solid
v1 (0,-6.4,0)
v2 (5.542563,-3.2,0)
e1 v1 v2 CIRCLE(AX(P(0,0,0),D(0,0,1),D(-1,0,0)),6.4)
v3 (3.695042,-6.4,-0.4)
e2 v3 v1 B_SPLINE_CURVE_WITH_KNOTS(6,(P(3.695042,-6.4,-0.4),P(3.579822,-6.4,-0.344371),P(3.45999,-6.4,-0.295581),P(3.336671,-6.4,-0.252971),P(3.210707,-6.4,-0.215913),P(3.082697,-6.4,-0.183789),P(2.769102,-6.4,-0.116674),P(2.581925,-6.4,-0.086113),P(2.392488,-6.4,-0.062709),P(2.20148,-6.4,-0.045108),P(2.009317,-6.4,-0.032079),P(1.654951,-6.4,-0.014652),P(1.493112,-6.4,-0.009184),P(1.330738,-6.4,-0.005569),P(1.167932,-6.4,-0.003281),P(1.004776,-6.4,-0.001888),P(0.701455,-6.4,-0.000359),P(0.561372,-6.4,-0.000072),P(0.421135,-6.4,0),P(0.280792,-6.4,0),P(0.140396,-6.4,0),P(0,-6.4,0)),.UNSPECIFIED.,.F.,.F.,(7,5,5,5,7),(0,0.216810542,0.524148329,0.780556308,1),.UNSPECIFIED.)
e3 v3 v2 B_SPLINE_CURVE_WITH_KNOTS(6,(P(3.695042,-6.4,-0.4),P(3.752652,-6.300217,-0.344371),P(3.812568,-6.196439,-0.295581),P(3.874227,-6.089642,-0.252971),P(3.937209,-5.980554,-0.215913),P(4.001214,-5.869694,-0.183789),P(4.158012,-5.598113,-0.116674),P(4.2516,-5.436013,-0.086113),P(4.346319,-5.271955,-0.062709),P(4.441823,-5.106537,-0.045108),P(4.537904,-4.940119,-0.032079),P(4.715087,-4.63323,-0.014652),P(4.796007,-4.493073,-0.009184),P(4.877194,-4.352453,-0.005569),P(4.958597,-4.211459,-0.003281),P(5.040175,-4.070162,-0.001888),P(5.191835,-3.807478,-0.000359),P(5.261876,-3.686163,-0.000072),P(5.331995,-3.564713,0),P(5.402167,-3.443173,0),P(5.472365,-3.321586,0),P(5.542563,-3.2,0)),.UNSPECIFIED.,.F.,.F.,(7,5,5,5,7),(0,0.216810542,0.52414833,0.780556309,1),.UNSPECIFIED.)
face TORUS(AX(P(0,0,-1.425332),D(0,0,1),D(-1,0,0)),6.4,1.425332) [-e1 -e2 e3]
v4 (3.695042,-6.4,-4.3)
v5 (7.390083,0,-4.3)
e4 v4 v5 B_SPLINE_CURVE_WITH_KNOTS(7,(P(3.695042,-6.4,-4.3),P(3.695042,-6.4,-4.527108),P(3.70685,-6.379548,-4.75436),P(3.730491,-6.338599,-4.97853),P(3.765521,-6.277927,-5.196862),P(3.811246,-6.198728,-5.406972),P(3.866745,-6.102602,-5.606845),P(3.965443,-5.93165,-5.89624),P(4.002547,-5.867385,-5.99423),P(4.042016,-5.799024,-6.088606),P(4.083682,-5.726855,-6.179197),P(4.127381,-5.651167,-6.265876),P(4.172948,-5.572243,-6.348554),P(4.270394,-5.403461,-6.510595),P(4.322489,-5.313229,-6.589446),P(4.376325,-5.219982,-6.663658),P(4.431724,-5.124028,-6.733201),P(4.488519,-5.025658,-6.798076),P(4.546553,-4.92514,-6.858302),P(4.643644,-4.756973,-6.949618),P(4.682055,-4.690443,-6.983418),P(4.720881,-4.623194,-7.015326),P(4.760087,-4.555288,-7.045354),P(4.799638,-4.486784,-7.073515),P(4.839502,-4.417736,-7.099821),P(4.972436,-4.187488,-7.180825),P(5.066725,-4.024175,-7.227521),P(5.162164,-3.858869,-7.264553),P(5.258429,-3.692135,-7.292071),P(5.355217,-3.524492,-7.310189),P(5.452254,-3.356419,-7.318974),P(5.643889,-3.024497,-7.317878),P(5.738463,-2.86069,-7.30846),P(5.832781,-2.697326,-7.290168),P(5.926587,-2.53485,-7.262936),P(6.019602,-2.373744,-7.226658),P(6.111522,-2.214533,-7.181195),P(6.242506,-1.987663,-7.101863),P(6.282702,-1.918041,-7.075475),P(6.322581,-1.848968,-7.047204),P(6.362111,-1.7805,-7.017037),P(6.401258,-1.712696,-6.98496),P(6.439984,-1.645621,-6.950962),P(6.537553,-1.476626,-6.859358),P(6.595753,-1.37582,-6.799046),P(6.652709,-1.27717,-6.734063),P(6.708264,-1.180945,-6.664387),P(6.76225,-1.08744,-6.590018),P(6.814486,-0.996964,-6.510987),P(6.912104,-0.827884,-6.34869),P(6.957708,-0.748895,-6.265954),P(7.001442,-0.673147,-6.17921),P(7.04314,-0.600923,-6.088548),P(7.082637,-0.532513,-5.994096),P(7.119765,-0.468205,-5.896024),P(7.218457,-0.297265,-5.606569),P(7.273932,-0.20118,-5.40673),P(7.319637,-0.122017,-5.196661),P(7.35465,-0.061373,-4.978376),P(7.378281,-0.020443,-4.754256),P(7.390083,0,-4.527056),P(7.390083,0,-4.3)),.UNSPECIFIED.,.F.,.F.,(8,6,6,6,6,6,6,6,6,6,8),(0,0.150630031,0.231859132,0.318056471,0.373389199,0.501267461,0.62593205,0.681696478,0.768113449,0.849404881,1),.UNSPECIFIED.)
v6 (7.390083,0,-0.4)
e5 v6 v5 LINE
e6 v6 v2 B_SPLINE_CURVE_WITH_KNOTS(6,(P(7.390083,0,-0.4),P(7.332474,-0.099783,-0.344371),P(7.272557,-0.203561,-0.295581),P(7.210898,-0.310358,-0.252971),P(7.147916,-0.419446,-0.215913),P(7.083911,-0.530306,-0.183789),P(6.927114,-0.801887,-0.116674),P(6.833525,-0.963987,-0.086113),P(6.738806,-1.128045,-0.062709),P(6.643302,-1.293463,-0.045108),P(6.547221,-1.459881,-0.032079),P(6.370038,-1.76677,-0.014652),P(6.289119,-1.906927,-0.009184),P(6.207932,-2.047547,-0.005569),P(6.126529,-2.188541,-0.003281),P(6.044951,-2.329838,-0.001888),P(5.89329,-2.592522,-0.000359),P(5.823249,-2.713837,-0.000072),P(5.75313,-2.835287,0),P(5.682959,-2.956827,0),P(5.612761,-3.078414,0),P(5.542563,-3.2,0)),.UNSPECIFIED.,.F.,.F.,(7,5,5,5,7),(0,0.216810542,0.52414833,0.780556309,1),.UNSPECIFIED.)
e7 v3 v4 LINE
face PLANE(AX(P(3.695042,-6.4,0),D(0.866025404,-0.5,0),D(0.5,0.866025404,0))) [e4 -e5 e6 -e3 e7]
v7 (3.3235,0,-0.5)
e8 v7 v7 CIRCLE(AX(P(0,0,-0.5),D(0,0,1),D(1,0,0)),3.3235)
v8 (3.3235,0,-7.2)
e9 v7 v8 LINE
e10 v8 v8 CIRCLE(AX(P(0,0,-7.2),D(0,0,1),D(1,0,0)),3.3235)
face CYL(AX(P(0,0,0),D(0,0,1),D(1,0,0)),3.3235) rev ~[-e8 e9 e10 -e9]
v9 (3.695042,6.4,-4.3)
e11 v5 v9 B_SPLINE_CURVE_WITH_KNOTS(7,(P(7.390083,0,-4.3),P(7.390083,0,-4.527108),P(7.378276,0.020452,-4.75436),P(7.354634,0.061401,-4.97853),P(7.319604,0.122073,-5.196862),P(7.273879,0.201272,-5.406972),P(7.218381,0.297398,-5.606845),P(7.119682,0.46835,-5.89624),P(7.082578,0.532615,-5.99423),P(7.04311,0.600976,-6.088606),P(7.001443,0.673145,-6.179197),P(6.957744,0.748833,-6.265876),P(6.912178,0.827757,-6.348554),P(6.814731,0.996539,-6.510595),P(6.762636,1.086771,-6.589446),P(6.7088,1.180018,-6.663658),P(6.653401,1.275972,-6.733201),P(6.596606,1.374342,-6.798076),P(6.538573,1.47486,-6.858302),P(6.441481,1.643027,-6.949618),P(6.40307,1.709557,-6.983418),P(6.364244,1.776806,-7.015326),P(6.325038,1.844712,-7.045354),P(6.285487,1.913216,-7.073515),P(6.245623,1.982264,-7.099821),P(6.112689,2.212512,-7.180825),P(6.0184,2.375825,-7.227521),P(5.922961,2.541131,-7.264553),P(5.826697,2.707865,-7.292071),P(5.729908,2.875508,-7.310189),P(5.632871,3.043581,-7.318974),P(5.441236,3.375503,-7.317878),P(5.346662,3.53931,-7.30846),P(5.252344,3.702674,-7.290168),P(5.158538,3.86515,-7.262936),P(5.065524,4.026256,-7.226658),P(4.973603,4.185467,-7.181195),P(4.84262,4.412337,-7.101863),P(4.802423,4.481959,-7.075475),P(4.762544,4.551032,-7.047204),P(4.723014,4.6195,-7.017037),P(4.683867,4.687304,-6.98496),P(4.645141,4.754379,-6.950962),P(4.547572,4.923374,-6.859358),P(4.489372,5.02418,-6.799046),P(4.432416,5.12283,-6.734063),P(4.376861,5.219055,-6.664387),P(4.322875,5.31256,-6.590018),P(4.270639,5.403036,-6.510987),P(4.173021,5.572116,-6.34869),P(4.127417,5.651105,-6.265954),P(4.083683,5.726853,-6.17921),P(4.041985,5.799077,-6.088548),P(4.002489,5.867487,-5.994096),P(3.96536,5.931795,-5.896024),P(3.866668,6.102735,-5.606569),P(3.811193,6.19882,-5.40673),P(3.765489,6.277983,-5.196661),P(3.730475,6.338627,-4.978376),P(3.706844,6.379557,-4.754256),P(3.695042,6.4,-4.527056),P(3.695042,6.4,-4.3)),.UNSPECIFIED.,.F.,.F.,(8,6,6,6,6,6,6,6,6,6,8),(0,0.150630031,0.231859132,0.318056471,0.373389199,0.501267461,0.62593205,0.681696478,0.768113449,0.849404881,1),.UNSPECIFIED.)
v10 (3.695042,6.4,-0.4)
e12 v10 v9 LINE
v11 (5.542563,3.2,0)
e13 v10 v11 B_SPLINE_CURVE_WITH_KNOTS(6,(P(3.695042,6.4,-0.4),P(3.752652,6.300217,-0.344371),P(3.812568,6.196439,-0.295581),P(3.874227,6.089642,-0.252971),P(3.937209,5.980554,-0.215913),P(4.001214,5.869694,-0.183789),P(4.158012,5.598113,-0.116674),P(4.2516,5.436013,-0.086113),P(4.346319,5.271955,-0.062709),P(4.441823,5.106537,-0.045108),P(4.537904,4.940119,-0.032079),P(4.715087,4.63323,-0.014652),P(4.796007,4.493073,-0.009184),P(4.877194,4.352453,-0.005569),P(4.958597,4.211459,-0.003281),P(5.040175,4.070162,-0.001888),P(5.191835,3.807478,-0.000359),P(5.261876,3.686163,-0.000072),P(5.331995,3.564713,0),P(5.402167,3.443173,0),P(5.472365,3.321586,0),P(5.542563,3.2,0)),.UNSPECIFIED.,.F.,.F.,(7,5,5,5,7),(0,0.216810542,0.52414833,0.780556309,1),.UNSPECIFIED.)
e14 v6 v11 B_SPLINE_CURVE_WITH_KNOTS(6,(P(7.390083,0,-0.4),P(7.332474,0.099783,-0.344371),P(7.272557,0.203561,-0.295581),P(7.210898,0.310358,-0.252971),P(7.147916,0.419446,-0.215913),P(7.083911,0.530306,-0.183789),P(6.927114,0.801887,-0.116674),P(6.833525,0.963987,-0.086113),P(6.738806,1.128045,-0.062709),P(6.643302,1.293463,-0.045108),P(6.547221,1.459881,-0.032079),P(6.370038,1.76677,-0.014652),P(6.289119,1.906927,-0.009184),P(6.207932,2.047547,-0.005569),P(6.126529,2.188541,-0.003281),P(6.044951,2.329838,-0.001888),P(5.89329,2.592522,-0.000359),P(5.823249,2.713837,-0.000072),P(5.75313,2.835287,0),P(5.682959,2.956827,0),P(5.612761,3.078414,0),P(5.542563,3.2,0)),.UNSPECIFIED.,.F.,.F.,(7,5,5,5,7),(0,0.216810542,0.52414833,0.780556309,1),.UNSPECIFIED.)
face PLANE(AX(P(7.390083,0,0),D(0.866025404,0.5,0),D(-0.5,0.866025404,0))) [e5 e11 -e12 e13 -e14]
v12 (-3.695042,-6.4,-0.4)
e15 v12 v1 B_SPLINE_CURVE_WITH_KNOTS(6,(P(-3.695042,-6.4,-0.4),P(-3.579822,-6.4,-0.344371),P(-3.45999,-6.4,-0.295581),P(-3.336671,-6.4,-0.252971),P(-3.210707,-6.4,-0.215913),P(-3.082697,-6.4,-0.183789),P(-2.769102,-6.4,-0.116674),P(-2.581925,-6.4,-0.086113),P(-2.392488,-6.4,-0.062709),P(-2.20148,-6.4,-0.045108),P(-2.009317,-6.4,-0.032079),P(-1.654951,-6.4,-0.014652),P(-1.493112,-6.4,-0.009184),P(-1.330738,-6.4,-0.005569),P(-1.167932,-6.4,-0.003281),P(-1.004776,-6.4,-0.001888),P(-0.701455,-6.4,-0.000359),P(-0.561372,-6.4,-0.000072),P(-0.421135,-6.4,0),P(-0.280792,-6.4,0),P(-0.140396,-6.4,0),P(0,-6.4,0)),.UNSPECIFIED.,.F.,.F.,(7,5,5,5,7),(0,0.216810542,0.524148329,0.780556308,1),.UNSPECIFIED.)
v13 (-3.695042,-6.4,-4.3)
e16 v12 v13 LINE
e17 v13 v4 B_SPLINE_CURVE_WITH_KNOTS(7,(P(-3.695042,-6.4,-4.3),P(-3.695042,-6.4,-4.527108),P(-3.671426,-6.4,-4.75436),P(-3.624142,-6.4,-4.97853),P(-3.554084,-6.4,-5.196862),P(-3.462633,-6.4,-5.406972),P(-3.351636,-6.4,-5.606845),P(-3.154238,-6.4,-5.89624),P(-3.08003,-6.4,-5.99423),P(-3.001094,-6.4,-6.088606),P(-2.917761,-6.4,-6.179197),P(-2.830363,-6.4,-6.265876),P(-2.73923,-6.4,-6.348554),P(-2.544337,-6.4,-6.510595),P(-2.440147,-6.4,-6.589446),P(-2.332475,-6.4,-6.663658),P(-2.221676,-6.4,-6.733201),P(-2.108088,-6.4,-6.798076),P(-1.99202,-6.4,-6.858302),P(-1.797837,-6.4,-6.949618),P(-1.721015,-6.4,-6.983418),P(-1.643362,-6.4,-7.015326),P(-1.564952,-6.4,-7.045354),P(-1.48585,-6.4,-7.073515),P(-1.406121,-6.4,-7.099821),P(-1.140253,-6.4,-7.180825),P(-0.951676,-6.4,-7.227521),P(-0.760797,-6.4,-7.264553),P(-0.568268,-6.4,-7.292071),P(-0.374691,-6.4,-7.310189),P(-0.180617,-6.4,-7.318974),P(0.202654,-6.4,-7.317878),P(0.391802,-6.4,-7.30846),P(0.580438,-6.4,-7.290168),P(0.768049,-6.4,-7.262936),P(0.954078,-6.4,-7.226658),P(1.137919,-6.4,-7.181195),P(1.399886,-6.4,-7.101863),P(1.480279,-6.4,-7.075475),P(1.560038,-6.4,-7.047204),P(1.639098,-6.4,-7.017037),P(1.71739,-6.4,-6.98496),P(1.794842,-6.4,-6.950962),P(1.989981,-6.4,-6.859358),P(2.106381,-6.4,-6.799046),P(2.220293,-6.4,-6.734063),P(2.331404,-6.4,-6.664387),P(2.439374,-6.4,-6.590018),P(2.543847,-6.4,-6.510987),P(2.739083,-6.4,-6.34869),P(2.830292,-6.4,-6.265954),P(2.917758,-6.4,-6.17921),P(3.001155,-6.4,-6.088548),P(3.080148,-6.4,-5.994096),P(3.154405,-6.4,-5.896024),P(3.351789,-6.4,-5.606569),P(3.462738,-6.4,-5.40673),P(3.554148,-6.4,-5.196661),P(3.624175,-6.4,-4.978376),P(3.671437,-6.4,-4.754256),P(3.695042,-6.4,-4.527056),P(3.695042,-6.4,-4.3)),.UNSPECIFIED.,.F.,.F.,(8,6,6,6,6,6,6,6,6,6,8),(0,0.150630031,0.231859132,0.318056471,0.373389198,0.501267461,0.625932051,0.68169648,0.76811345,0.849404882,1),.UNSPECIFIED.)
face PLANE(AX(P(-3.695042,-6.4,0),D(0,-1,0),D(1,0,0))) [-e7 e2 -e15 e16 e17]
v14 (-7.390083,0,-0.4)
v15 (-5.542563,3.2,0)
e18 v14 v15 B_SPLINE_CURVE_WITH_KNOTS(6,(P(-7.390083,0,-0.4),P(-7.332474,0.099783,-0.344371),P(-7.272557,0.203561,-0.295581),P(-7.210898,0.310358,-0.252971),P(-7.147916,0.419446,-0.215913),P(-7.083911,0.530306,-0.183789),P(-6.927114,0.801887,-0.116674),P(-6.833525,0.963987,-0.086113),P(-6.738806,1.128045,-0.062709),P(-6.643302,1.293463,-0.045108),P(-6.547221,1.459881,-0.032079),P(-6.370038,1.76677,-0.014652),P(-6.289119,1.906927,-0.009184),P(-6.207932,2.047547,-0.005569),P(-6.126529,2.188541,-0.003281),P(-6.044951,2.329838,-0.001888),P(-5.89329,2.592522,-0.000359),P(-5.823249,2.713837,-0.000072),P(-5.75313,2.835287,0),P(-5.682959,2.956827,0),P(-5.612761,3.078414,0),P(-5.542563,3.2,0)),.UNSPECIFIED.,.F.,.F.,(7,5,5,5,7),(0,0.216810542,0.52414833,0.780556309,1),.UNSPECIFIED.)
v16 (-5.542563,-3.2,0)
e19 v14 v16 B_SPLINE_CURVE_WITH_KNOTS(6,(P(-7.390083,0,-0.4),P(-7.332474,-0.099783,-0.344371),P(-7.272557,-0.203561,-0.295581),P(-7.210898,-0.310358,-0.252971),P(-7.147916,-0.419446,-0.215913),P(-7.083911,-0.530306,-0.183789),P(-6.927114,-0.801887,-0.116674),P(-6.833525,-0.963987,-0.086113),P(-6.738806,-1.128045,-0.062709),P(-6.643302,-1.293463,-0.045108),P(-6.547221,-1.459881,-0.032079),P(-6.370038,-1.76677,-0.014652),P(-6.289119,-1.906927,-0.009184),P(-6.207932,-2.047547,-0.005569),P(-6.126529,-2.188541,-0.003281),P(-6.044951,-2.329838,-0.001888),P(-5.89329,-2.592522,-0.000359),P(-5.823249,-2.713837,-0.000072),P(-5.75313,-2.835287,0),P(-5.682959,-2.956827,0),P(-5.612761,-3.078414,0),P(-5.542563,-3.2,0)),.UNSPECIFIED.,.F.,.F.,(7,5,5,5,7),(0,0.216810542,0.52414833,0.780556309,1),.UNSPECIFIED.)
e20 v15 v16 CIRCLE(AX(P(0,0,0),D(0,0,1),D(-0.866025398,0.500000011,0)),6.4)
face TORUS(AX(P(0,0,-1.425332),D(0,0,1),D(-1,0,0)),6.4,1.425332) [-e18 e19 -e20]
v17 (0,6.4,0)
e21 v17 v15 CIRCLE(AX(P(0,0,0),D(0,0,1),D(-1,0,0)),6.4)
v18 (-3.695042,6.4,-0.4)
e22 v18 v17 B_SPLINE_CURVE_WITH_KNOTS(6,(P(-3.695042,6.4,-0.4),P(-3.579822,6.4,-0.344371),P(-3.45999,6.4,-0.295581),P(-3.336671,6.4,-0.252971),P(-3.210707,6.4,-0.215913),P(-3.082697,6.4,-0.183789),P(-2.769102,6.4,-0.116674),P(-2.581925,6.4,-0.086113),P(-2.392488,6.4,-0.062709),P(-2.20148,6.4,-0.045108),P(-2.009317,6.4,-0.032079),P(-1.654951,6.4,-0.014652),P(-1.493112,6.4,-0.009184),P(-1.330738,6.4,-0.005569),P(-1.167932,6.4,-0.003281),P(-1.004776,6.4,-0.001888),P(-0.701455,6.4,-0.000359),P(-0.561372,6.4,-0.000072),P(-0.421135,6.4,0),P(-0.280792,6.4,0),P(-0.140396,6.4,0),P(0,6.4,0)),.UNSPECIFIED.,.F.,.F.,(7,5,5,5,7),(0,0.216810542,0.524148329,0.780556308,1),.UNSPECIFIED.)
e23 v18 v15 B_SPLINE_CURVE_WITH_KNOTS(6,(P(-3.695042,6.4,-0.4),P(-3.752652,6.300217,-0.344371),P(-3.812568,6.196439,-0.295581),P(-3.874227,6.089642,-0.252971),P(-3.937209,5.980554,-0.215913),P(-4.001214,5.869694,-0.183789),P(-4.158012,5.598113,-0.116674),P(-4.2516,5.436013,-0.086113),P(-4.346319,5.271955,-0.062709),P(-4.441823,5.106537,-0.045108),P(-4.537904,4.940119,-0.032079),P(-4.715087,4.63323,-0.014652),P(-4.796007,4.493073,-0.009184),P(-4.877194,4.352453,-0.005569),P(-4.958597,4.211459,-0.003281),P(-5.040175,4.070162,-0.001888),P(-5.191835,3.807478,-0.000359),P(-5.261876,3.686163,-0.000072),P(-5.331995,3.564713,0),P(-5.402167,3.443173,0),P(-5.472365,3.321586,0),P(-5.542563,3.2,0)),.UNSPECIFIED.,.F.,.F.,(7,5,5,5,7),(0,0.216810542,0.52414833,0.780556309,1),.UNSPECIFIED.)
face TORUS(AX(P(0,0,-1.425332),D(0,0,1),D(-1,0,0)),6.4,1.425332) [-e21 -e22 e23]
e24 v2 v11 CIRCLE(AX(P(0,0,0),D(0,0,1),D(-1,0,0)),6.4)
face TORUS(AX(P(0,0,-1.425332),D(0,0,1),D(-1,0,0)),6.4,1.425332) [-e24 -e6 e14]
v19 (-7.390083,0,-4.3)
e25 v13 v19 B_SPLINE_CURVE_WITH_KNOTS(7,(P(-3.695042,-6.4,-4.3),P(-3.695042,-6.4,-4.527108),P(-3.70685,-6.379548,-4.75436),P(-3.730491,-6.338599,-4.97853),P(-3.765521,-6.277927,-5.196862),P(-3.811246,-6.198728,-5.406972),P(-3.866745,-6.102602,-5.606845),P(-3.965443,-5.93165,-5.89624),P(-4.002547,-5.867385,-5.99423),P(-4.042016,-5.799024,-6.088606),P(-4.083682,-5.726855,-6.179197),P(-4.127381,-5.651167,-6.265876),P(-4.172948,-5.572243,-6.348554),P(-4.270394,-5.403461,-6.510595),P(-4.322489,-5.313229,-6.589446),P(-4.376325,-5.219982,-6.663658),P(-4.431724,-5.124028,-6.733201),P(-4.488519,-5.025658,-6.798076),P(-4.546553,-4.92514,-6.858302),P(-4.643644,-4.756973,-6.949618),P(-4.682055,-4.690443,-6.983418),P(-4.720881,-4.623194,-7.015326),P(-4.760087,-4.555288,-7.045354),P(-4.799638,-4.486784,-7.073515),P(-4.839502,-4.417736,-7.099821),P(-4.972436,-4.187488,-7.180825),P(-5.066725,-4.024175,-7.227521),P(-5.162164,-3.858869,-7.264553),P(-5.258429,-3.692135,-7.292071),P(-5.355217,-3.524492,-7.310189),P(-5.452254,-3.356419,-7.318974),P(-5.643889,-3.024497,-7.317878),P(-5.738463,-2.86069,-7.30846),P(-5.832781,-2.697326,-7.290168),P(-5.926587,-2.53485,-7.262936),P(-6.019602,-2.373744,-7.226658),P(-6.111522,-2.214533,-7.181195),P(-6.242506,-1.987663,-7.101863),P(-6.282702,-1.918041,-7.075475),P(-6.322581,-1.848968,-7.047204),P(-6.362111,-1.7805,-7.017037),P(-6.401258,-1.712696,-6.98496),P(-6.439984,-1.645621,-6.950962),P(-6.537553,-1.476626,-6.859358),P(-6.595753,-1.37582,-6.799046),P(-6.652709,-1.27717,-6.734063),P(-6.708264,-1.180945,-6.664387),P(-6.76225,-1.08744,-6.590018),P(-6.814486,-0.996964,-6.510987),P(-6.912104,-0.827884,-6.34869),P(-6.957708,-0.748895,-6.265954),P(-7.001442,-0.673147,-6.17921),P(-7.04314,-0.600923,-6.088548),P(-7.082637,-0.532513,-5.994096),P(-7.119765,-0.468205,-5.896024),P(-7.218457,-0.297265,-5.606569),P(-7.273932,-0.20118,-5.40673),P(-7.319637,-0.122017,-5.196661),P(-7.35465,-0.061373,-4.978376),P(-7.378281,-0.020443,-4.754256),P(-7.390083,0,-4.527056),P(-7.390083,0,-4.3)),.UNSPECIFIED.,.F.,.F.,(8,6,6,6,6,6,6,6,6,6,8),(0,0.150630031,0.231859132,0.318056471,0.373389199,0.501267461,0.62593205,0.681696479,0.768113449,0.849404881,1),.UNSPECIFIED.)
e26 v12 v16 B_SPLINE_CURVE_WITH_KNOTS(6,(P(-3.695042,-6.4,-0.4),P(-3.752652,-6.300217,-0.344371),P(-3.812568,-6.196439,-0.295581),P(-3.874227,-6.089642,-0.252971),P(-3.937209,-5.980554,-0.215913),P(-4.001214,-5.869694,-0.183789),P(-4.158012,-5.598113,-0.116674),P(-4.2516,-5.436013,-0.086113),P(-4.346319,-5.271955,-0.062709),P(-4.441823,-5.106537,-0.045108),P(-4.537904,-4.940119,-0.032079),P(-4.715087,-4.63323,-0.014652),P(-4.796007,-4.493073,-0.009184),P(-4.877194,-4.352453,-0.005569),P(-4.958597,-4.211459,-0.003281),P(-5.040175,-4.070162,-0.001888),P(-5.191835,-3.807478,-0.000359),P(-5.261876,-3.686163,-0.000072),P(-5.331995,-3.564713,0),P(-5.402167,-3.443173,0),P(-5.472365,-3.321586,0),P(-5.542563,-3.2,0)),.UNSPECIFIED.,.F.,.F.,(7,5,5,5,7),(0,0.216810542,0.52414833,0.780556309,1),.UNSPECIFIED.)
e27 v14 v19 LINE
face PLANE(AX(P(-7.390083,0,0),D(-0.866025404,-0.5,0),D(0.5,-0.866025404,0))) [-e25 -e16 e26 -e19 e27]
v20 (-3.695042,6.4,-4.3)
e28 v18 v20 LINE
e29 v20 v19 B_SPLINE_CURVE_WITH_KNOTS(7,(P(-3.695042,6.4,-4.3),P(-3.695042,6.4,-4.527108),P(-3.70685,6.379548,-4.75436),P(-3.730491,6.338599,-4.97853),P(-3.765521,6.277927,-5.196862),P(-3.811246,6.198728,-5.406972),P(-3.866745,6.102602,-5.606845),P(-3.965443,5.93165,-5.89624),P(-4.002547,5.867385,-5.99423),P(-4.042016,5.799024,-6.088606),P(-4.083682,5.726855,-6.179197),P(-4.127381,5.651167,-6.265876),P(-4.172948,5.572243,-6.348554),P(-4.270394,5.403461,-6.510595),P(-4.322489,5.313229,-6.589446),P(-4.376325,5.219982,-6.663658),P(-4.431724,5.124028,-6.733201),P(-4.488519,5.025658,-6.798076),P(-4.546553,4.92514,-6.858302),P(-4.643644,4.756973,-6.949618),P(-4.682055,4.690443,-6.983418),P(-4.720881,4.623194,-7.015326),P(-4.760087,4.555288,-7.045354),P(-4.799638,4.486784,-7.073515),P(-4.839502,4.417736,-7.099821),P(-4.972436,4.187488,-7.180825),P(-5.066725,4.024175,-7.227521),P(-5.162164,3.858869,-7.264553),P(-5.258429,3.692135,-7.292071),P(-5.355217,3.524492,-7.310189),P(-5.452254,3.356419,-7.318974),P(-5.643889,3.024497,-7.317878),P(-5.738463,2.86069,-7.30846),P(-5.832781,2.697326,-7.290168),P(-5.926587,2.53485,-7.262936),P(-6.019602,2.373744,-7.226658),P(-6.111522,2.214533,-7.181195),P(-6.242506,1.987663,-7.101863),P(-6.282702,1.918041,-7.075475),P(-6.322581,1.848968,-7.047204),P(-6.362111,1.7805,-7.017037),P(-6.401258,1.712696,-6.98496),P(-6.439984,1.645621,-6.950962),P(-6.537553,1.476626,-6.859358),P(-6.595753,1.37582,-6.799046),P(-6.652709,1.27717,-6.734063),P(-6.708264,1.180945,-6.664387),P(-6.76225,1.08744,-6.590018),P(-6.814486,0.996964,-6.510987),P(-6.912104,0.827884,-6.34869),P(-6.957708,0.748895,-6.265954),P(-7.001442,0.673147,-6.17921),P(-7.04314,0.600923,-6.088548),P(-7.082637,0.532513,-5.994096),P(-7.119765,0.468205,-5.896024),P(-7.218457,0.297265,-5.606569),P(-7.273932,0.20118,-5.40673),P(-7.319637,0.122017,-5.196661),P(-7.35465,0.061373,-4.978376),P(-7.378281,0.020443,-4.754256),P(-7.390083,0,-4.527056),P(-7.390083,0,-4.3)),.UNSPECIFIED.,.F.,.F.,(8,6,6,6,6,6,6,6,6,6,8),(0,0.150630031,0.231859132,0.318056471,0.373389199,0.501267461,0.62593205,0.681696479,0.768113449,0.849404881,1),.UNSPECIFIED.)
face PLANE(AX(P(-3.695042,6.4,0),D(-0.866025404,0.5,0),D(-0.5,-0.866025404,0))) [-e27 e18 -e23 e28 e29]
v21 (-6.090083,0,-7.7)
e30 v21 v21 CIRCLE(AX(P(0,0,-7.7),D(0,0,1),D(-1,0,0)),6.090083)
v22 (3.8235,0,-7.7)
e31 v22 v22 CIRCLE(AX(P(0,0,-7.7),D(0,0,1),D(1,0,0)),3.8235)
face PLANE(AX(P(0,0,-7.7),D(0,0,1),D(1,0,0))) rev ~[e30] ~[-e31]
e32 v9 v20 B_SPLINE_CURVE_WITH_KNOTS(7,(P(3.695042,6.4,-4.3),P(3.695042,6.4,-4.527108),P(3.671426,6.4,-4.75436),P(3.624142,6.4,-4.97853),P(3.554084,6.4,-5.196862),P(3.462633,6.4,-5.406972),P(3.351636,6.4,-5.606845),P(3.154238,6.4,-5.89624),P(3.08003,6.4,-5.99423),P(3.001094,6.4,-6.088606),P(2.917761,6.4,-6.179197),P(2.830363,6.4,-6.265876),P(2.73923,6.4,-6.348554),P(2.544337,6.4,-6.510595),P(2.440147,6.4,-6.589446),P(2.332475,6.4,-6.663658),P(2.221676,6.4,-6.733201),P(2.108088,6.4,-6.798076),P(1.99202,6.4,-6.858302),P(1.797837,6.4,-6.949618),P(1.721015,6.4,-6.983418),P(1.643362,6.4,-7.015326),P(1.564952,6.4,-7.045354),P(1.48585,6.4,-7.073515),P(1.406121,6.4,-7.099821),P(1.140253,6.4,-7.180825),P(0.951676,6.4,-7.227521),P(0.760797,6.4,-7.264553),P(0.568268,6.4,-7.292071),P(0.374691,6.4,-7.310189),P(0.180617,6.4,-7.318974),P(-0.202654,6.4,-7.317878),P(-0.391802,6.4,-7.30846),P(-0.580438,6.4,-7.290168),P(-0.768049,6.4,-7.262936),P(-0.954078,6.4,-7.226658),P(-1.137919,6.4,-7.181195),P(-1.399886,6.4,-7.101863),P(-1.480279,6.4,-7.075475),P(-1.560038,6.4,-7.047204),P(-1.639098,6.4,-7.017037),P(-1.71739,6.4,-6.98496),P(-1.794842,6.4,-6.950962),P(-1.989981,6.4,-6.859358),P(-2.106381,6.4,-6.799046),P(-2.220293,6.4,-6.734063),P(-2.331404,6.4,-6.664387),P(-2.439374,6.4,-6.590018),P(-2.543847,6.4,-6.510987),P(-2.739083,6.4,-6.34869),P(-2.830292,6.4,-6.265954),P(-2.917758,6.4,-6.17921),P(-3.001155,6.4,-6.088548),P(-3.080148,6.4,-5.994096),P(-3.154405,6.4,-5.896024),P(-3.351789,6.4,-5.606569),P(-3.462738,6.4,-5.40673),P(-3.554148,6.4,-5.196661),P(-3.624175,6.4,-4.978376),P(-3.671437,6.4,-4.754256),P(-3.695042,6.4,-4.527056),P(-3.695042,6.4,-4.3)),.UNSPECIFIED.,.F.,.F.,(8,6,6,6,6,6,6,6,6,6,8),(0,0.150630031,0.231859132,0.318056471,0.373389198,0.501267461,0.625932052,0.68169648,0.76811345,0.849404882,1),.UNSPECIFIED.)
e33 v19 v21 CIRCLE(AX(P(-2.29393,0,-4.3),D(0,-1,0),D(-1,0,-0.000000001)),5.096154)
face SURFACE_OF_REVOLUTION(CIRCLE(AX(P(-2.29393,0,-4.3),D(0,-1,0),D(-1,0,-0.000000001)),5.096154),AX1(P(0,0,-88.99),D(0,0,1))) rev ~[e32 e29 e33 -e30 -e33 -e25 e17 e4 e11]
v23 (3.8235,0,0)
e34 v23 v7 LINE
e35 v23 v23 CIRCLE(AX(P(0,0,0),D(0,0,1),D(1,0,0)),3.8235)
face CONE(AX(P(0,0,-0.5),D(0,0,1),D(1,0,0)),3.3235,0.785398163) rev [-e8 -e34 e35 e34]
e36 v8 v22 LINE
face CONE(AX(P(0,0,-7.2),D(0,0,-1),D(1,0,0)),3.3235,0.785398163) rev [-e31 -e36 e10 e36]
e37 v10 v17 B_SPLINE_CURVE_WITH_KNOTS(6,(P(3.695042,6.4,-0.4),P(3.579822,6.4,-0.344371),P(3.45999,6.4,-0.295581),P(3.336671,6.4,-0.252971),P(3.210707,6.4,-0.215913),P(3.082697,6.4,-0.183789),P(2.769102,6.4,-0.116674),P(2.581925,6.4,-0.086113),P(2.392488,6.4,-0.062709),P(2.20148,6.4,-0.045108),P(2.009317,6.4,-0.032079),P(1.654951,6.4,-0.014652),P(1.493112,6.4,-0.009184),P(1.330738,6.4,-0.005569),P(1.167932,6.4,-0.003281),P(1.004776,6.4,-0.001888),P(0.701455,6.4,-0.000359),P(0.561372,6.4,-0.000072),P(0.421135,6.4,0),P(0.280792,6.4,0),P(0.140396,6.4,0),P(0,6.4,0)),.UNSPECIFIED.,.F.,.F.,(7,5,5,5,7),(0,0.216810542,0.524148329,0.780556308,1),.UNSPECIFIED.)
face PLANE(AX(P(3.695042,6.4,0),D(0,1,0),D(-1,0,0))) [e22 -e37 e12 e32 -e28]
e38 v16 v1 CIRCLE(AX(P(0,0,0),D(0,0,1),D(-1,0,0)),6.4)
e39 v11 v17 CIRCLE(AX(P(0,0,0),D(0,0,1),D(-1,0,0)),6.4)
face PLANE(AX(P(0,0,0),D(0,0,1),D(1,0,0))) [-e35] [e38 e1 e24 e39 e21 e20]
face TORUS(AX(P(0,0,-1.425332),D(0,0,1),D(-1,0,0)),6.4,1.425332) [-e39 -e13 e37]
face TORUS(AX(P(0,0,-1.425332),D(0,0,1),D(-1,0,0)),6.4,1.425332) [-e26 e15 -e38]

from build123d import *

# Parameters (mm, degrees)
SKETCH1_R           = 3.3235
BOSS_EXTRUDE1_DEPTH = 7.7
CHAMFER1_SIZE       = 0.5


with BuildPart() as part:
    # Sketch1 → Boss-Extrude1 (new body)
    with BuildSketch(Plane.XY):
        Polygon((3.695041723, 6.4), (-3.695041723, 6.4), (-7.390083446, 0), (-3.695041723, -6.4), (3.695041723, -6.4), (7.390083446, 0), align=None)
        Circle(SKETCH1_R, mode=Mode.SUBTRACT)
    extrude(amount=-BOSS_EXTRUDE1_DEPTH)

    # Sketch2 → Cut-Revolve1 (revolve, cut)
    with BuildSketch(Plane(origin=(0, 0, 0), x_dir=(1, 0, 0), z_dir=(0, 1, 0))):
        with BuildLine():
            Line((-7.390083446, 7.7), (-7.390083446, 4.3))
            ThreePointArc((-7.390083446, 4.3), (-7.05400145, 6.120027472), (-6.090083446, 7.7))
            Line((-6.090083446, 7.7), (-7.390083446, 7.7))
        make_face()
        with BuildLine():
            Line((-7.390083446, 0), (-7.390083446, 0.4))
            ThreePointArc((-7.390083446, 0.4), (-6.933916011, 0.103778026), (-6.4, 0))
            Line((-6.4, 0), (-7.390083446, 0))
        make_face()
    revolve(axis=Axis((0, 0, -88.99), (0, 0, 1)), mode=Mode.SUBTRACT)

    # Chamfer1
    chamfer1_edges = [part.edges().sort_by_distance(p)[0] for p in [
        (-3.3235, 0, -7.7),
        (-3.3235, 0, 0),
    ]]
    chamfer(chamfer1_edges, length=CHAMFER1_SIZE)


solid = part.part
